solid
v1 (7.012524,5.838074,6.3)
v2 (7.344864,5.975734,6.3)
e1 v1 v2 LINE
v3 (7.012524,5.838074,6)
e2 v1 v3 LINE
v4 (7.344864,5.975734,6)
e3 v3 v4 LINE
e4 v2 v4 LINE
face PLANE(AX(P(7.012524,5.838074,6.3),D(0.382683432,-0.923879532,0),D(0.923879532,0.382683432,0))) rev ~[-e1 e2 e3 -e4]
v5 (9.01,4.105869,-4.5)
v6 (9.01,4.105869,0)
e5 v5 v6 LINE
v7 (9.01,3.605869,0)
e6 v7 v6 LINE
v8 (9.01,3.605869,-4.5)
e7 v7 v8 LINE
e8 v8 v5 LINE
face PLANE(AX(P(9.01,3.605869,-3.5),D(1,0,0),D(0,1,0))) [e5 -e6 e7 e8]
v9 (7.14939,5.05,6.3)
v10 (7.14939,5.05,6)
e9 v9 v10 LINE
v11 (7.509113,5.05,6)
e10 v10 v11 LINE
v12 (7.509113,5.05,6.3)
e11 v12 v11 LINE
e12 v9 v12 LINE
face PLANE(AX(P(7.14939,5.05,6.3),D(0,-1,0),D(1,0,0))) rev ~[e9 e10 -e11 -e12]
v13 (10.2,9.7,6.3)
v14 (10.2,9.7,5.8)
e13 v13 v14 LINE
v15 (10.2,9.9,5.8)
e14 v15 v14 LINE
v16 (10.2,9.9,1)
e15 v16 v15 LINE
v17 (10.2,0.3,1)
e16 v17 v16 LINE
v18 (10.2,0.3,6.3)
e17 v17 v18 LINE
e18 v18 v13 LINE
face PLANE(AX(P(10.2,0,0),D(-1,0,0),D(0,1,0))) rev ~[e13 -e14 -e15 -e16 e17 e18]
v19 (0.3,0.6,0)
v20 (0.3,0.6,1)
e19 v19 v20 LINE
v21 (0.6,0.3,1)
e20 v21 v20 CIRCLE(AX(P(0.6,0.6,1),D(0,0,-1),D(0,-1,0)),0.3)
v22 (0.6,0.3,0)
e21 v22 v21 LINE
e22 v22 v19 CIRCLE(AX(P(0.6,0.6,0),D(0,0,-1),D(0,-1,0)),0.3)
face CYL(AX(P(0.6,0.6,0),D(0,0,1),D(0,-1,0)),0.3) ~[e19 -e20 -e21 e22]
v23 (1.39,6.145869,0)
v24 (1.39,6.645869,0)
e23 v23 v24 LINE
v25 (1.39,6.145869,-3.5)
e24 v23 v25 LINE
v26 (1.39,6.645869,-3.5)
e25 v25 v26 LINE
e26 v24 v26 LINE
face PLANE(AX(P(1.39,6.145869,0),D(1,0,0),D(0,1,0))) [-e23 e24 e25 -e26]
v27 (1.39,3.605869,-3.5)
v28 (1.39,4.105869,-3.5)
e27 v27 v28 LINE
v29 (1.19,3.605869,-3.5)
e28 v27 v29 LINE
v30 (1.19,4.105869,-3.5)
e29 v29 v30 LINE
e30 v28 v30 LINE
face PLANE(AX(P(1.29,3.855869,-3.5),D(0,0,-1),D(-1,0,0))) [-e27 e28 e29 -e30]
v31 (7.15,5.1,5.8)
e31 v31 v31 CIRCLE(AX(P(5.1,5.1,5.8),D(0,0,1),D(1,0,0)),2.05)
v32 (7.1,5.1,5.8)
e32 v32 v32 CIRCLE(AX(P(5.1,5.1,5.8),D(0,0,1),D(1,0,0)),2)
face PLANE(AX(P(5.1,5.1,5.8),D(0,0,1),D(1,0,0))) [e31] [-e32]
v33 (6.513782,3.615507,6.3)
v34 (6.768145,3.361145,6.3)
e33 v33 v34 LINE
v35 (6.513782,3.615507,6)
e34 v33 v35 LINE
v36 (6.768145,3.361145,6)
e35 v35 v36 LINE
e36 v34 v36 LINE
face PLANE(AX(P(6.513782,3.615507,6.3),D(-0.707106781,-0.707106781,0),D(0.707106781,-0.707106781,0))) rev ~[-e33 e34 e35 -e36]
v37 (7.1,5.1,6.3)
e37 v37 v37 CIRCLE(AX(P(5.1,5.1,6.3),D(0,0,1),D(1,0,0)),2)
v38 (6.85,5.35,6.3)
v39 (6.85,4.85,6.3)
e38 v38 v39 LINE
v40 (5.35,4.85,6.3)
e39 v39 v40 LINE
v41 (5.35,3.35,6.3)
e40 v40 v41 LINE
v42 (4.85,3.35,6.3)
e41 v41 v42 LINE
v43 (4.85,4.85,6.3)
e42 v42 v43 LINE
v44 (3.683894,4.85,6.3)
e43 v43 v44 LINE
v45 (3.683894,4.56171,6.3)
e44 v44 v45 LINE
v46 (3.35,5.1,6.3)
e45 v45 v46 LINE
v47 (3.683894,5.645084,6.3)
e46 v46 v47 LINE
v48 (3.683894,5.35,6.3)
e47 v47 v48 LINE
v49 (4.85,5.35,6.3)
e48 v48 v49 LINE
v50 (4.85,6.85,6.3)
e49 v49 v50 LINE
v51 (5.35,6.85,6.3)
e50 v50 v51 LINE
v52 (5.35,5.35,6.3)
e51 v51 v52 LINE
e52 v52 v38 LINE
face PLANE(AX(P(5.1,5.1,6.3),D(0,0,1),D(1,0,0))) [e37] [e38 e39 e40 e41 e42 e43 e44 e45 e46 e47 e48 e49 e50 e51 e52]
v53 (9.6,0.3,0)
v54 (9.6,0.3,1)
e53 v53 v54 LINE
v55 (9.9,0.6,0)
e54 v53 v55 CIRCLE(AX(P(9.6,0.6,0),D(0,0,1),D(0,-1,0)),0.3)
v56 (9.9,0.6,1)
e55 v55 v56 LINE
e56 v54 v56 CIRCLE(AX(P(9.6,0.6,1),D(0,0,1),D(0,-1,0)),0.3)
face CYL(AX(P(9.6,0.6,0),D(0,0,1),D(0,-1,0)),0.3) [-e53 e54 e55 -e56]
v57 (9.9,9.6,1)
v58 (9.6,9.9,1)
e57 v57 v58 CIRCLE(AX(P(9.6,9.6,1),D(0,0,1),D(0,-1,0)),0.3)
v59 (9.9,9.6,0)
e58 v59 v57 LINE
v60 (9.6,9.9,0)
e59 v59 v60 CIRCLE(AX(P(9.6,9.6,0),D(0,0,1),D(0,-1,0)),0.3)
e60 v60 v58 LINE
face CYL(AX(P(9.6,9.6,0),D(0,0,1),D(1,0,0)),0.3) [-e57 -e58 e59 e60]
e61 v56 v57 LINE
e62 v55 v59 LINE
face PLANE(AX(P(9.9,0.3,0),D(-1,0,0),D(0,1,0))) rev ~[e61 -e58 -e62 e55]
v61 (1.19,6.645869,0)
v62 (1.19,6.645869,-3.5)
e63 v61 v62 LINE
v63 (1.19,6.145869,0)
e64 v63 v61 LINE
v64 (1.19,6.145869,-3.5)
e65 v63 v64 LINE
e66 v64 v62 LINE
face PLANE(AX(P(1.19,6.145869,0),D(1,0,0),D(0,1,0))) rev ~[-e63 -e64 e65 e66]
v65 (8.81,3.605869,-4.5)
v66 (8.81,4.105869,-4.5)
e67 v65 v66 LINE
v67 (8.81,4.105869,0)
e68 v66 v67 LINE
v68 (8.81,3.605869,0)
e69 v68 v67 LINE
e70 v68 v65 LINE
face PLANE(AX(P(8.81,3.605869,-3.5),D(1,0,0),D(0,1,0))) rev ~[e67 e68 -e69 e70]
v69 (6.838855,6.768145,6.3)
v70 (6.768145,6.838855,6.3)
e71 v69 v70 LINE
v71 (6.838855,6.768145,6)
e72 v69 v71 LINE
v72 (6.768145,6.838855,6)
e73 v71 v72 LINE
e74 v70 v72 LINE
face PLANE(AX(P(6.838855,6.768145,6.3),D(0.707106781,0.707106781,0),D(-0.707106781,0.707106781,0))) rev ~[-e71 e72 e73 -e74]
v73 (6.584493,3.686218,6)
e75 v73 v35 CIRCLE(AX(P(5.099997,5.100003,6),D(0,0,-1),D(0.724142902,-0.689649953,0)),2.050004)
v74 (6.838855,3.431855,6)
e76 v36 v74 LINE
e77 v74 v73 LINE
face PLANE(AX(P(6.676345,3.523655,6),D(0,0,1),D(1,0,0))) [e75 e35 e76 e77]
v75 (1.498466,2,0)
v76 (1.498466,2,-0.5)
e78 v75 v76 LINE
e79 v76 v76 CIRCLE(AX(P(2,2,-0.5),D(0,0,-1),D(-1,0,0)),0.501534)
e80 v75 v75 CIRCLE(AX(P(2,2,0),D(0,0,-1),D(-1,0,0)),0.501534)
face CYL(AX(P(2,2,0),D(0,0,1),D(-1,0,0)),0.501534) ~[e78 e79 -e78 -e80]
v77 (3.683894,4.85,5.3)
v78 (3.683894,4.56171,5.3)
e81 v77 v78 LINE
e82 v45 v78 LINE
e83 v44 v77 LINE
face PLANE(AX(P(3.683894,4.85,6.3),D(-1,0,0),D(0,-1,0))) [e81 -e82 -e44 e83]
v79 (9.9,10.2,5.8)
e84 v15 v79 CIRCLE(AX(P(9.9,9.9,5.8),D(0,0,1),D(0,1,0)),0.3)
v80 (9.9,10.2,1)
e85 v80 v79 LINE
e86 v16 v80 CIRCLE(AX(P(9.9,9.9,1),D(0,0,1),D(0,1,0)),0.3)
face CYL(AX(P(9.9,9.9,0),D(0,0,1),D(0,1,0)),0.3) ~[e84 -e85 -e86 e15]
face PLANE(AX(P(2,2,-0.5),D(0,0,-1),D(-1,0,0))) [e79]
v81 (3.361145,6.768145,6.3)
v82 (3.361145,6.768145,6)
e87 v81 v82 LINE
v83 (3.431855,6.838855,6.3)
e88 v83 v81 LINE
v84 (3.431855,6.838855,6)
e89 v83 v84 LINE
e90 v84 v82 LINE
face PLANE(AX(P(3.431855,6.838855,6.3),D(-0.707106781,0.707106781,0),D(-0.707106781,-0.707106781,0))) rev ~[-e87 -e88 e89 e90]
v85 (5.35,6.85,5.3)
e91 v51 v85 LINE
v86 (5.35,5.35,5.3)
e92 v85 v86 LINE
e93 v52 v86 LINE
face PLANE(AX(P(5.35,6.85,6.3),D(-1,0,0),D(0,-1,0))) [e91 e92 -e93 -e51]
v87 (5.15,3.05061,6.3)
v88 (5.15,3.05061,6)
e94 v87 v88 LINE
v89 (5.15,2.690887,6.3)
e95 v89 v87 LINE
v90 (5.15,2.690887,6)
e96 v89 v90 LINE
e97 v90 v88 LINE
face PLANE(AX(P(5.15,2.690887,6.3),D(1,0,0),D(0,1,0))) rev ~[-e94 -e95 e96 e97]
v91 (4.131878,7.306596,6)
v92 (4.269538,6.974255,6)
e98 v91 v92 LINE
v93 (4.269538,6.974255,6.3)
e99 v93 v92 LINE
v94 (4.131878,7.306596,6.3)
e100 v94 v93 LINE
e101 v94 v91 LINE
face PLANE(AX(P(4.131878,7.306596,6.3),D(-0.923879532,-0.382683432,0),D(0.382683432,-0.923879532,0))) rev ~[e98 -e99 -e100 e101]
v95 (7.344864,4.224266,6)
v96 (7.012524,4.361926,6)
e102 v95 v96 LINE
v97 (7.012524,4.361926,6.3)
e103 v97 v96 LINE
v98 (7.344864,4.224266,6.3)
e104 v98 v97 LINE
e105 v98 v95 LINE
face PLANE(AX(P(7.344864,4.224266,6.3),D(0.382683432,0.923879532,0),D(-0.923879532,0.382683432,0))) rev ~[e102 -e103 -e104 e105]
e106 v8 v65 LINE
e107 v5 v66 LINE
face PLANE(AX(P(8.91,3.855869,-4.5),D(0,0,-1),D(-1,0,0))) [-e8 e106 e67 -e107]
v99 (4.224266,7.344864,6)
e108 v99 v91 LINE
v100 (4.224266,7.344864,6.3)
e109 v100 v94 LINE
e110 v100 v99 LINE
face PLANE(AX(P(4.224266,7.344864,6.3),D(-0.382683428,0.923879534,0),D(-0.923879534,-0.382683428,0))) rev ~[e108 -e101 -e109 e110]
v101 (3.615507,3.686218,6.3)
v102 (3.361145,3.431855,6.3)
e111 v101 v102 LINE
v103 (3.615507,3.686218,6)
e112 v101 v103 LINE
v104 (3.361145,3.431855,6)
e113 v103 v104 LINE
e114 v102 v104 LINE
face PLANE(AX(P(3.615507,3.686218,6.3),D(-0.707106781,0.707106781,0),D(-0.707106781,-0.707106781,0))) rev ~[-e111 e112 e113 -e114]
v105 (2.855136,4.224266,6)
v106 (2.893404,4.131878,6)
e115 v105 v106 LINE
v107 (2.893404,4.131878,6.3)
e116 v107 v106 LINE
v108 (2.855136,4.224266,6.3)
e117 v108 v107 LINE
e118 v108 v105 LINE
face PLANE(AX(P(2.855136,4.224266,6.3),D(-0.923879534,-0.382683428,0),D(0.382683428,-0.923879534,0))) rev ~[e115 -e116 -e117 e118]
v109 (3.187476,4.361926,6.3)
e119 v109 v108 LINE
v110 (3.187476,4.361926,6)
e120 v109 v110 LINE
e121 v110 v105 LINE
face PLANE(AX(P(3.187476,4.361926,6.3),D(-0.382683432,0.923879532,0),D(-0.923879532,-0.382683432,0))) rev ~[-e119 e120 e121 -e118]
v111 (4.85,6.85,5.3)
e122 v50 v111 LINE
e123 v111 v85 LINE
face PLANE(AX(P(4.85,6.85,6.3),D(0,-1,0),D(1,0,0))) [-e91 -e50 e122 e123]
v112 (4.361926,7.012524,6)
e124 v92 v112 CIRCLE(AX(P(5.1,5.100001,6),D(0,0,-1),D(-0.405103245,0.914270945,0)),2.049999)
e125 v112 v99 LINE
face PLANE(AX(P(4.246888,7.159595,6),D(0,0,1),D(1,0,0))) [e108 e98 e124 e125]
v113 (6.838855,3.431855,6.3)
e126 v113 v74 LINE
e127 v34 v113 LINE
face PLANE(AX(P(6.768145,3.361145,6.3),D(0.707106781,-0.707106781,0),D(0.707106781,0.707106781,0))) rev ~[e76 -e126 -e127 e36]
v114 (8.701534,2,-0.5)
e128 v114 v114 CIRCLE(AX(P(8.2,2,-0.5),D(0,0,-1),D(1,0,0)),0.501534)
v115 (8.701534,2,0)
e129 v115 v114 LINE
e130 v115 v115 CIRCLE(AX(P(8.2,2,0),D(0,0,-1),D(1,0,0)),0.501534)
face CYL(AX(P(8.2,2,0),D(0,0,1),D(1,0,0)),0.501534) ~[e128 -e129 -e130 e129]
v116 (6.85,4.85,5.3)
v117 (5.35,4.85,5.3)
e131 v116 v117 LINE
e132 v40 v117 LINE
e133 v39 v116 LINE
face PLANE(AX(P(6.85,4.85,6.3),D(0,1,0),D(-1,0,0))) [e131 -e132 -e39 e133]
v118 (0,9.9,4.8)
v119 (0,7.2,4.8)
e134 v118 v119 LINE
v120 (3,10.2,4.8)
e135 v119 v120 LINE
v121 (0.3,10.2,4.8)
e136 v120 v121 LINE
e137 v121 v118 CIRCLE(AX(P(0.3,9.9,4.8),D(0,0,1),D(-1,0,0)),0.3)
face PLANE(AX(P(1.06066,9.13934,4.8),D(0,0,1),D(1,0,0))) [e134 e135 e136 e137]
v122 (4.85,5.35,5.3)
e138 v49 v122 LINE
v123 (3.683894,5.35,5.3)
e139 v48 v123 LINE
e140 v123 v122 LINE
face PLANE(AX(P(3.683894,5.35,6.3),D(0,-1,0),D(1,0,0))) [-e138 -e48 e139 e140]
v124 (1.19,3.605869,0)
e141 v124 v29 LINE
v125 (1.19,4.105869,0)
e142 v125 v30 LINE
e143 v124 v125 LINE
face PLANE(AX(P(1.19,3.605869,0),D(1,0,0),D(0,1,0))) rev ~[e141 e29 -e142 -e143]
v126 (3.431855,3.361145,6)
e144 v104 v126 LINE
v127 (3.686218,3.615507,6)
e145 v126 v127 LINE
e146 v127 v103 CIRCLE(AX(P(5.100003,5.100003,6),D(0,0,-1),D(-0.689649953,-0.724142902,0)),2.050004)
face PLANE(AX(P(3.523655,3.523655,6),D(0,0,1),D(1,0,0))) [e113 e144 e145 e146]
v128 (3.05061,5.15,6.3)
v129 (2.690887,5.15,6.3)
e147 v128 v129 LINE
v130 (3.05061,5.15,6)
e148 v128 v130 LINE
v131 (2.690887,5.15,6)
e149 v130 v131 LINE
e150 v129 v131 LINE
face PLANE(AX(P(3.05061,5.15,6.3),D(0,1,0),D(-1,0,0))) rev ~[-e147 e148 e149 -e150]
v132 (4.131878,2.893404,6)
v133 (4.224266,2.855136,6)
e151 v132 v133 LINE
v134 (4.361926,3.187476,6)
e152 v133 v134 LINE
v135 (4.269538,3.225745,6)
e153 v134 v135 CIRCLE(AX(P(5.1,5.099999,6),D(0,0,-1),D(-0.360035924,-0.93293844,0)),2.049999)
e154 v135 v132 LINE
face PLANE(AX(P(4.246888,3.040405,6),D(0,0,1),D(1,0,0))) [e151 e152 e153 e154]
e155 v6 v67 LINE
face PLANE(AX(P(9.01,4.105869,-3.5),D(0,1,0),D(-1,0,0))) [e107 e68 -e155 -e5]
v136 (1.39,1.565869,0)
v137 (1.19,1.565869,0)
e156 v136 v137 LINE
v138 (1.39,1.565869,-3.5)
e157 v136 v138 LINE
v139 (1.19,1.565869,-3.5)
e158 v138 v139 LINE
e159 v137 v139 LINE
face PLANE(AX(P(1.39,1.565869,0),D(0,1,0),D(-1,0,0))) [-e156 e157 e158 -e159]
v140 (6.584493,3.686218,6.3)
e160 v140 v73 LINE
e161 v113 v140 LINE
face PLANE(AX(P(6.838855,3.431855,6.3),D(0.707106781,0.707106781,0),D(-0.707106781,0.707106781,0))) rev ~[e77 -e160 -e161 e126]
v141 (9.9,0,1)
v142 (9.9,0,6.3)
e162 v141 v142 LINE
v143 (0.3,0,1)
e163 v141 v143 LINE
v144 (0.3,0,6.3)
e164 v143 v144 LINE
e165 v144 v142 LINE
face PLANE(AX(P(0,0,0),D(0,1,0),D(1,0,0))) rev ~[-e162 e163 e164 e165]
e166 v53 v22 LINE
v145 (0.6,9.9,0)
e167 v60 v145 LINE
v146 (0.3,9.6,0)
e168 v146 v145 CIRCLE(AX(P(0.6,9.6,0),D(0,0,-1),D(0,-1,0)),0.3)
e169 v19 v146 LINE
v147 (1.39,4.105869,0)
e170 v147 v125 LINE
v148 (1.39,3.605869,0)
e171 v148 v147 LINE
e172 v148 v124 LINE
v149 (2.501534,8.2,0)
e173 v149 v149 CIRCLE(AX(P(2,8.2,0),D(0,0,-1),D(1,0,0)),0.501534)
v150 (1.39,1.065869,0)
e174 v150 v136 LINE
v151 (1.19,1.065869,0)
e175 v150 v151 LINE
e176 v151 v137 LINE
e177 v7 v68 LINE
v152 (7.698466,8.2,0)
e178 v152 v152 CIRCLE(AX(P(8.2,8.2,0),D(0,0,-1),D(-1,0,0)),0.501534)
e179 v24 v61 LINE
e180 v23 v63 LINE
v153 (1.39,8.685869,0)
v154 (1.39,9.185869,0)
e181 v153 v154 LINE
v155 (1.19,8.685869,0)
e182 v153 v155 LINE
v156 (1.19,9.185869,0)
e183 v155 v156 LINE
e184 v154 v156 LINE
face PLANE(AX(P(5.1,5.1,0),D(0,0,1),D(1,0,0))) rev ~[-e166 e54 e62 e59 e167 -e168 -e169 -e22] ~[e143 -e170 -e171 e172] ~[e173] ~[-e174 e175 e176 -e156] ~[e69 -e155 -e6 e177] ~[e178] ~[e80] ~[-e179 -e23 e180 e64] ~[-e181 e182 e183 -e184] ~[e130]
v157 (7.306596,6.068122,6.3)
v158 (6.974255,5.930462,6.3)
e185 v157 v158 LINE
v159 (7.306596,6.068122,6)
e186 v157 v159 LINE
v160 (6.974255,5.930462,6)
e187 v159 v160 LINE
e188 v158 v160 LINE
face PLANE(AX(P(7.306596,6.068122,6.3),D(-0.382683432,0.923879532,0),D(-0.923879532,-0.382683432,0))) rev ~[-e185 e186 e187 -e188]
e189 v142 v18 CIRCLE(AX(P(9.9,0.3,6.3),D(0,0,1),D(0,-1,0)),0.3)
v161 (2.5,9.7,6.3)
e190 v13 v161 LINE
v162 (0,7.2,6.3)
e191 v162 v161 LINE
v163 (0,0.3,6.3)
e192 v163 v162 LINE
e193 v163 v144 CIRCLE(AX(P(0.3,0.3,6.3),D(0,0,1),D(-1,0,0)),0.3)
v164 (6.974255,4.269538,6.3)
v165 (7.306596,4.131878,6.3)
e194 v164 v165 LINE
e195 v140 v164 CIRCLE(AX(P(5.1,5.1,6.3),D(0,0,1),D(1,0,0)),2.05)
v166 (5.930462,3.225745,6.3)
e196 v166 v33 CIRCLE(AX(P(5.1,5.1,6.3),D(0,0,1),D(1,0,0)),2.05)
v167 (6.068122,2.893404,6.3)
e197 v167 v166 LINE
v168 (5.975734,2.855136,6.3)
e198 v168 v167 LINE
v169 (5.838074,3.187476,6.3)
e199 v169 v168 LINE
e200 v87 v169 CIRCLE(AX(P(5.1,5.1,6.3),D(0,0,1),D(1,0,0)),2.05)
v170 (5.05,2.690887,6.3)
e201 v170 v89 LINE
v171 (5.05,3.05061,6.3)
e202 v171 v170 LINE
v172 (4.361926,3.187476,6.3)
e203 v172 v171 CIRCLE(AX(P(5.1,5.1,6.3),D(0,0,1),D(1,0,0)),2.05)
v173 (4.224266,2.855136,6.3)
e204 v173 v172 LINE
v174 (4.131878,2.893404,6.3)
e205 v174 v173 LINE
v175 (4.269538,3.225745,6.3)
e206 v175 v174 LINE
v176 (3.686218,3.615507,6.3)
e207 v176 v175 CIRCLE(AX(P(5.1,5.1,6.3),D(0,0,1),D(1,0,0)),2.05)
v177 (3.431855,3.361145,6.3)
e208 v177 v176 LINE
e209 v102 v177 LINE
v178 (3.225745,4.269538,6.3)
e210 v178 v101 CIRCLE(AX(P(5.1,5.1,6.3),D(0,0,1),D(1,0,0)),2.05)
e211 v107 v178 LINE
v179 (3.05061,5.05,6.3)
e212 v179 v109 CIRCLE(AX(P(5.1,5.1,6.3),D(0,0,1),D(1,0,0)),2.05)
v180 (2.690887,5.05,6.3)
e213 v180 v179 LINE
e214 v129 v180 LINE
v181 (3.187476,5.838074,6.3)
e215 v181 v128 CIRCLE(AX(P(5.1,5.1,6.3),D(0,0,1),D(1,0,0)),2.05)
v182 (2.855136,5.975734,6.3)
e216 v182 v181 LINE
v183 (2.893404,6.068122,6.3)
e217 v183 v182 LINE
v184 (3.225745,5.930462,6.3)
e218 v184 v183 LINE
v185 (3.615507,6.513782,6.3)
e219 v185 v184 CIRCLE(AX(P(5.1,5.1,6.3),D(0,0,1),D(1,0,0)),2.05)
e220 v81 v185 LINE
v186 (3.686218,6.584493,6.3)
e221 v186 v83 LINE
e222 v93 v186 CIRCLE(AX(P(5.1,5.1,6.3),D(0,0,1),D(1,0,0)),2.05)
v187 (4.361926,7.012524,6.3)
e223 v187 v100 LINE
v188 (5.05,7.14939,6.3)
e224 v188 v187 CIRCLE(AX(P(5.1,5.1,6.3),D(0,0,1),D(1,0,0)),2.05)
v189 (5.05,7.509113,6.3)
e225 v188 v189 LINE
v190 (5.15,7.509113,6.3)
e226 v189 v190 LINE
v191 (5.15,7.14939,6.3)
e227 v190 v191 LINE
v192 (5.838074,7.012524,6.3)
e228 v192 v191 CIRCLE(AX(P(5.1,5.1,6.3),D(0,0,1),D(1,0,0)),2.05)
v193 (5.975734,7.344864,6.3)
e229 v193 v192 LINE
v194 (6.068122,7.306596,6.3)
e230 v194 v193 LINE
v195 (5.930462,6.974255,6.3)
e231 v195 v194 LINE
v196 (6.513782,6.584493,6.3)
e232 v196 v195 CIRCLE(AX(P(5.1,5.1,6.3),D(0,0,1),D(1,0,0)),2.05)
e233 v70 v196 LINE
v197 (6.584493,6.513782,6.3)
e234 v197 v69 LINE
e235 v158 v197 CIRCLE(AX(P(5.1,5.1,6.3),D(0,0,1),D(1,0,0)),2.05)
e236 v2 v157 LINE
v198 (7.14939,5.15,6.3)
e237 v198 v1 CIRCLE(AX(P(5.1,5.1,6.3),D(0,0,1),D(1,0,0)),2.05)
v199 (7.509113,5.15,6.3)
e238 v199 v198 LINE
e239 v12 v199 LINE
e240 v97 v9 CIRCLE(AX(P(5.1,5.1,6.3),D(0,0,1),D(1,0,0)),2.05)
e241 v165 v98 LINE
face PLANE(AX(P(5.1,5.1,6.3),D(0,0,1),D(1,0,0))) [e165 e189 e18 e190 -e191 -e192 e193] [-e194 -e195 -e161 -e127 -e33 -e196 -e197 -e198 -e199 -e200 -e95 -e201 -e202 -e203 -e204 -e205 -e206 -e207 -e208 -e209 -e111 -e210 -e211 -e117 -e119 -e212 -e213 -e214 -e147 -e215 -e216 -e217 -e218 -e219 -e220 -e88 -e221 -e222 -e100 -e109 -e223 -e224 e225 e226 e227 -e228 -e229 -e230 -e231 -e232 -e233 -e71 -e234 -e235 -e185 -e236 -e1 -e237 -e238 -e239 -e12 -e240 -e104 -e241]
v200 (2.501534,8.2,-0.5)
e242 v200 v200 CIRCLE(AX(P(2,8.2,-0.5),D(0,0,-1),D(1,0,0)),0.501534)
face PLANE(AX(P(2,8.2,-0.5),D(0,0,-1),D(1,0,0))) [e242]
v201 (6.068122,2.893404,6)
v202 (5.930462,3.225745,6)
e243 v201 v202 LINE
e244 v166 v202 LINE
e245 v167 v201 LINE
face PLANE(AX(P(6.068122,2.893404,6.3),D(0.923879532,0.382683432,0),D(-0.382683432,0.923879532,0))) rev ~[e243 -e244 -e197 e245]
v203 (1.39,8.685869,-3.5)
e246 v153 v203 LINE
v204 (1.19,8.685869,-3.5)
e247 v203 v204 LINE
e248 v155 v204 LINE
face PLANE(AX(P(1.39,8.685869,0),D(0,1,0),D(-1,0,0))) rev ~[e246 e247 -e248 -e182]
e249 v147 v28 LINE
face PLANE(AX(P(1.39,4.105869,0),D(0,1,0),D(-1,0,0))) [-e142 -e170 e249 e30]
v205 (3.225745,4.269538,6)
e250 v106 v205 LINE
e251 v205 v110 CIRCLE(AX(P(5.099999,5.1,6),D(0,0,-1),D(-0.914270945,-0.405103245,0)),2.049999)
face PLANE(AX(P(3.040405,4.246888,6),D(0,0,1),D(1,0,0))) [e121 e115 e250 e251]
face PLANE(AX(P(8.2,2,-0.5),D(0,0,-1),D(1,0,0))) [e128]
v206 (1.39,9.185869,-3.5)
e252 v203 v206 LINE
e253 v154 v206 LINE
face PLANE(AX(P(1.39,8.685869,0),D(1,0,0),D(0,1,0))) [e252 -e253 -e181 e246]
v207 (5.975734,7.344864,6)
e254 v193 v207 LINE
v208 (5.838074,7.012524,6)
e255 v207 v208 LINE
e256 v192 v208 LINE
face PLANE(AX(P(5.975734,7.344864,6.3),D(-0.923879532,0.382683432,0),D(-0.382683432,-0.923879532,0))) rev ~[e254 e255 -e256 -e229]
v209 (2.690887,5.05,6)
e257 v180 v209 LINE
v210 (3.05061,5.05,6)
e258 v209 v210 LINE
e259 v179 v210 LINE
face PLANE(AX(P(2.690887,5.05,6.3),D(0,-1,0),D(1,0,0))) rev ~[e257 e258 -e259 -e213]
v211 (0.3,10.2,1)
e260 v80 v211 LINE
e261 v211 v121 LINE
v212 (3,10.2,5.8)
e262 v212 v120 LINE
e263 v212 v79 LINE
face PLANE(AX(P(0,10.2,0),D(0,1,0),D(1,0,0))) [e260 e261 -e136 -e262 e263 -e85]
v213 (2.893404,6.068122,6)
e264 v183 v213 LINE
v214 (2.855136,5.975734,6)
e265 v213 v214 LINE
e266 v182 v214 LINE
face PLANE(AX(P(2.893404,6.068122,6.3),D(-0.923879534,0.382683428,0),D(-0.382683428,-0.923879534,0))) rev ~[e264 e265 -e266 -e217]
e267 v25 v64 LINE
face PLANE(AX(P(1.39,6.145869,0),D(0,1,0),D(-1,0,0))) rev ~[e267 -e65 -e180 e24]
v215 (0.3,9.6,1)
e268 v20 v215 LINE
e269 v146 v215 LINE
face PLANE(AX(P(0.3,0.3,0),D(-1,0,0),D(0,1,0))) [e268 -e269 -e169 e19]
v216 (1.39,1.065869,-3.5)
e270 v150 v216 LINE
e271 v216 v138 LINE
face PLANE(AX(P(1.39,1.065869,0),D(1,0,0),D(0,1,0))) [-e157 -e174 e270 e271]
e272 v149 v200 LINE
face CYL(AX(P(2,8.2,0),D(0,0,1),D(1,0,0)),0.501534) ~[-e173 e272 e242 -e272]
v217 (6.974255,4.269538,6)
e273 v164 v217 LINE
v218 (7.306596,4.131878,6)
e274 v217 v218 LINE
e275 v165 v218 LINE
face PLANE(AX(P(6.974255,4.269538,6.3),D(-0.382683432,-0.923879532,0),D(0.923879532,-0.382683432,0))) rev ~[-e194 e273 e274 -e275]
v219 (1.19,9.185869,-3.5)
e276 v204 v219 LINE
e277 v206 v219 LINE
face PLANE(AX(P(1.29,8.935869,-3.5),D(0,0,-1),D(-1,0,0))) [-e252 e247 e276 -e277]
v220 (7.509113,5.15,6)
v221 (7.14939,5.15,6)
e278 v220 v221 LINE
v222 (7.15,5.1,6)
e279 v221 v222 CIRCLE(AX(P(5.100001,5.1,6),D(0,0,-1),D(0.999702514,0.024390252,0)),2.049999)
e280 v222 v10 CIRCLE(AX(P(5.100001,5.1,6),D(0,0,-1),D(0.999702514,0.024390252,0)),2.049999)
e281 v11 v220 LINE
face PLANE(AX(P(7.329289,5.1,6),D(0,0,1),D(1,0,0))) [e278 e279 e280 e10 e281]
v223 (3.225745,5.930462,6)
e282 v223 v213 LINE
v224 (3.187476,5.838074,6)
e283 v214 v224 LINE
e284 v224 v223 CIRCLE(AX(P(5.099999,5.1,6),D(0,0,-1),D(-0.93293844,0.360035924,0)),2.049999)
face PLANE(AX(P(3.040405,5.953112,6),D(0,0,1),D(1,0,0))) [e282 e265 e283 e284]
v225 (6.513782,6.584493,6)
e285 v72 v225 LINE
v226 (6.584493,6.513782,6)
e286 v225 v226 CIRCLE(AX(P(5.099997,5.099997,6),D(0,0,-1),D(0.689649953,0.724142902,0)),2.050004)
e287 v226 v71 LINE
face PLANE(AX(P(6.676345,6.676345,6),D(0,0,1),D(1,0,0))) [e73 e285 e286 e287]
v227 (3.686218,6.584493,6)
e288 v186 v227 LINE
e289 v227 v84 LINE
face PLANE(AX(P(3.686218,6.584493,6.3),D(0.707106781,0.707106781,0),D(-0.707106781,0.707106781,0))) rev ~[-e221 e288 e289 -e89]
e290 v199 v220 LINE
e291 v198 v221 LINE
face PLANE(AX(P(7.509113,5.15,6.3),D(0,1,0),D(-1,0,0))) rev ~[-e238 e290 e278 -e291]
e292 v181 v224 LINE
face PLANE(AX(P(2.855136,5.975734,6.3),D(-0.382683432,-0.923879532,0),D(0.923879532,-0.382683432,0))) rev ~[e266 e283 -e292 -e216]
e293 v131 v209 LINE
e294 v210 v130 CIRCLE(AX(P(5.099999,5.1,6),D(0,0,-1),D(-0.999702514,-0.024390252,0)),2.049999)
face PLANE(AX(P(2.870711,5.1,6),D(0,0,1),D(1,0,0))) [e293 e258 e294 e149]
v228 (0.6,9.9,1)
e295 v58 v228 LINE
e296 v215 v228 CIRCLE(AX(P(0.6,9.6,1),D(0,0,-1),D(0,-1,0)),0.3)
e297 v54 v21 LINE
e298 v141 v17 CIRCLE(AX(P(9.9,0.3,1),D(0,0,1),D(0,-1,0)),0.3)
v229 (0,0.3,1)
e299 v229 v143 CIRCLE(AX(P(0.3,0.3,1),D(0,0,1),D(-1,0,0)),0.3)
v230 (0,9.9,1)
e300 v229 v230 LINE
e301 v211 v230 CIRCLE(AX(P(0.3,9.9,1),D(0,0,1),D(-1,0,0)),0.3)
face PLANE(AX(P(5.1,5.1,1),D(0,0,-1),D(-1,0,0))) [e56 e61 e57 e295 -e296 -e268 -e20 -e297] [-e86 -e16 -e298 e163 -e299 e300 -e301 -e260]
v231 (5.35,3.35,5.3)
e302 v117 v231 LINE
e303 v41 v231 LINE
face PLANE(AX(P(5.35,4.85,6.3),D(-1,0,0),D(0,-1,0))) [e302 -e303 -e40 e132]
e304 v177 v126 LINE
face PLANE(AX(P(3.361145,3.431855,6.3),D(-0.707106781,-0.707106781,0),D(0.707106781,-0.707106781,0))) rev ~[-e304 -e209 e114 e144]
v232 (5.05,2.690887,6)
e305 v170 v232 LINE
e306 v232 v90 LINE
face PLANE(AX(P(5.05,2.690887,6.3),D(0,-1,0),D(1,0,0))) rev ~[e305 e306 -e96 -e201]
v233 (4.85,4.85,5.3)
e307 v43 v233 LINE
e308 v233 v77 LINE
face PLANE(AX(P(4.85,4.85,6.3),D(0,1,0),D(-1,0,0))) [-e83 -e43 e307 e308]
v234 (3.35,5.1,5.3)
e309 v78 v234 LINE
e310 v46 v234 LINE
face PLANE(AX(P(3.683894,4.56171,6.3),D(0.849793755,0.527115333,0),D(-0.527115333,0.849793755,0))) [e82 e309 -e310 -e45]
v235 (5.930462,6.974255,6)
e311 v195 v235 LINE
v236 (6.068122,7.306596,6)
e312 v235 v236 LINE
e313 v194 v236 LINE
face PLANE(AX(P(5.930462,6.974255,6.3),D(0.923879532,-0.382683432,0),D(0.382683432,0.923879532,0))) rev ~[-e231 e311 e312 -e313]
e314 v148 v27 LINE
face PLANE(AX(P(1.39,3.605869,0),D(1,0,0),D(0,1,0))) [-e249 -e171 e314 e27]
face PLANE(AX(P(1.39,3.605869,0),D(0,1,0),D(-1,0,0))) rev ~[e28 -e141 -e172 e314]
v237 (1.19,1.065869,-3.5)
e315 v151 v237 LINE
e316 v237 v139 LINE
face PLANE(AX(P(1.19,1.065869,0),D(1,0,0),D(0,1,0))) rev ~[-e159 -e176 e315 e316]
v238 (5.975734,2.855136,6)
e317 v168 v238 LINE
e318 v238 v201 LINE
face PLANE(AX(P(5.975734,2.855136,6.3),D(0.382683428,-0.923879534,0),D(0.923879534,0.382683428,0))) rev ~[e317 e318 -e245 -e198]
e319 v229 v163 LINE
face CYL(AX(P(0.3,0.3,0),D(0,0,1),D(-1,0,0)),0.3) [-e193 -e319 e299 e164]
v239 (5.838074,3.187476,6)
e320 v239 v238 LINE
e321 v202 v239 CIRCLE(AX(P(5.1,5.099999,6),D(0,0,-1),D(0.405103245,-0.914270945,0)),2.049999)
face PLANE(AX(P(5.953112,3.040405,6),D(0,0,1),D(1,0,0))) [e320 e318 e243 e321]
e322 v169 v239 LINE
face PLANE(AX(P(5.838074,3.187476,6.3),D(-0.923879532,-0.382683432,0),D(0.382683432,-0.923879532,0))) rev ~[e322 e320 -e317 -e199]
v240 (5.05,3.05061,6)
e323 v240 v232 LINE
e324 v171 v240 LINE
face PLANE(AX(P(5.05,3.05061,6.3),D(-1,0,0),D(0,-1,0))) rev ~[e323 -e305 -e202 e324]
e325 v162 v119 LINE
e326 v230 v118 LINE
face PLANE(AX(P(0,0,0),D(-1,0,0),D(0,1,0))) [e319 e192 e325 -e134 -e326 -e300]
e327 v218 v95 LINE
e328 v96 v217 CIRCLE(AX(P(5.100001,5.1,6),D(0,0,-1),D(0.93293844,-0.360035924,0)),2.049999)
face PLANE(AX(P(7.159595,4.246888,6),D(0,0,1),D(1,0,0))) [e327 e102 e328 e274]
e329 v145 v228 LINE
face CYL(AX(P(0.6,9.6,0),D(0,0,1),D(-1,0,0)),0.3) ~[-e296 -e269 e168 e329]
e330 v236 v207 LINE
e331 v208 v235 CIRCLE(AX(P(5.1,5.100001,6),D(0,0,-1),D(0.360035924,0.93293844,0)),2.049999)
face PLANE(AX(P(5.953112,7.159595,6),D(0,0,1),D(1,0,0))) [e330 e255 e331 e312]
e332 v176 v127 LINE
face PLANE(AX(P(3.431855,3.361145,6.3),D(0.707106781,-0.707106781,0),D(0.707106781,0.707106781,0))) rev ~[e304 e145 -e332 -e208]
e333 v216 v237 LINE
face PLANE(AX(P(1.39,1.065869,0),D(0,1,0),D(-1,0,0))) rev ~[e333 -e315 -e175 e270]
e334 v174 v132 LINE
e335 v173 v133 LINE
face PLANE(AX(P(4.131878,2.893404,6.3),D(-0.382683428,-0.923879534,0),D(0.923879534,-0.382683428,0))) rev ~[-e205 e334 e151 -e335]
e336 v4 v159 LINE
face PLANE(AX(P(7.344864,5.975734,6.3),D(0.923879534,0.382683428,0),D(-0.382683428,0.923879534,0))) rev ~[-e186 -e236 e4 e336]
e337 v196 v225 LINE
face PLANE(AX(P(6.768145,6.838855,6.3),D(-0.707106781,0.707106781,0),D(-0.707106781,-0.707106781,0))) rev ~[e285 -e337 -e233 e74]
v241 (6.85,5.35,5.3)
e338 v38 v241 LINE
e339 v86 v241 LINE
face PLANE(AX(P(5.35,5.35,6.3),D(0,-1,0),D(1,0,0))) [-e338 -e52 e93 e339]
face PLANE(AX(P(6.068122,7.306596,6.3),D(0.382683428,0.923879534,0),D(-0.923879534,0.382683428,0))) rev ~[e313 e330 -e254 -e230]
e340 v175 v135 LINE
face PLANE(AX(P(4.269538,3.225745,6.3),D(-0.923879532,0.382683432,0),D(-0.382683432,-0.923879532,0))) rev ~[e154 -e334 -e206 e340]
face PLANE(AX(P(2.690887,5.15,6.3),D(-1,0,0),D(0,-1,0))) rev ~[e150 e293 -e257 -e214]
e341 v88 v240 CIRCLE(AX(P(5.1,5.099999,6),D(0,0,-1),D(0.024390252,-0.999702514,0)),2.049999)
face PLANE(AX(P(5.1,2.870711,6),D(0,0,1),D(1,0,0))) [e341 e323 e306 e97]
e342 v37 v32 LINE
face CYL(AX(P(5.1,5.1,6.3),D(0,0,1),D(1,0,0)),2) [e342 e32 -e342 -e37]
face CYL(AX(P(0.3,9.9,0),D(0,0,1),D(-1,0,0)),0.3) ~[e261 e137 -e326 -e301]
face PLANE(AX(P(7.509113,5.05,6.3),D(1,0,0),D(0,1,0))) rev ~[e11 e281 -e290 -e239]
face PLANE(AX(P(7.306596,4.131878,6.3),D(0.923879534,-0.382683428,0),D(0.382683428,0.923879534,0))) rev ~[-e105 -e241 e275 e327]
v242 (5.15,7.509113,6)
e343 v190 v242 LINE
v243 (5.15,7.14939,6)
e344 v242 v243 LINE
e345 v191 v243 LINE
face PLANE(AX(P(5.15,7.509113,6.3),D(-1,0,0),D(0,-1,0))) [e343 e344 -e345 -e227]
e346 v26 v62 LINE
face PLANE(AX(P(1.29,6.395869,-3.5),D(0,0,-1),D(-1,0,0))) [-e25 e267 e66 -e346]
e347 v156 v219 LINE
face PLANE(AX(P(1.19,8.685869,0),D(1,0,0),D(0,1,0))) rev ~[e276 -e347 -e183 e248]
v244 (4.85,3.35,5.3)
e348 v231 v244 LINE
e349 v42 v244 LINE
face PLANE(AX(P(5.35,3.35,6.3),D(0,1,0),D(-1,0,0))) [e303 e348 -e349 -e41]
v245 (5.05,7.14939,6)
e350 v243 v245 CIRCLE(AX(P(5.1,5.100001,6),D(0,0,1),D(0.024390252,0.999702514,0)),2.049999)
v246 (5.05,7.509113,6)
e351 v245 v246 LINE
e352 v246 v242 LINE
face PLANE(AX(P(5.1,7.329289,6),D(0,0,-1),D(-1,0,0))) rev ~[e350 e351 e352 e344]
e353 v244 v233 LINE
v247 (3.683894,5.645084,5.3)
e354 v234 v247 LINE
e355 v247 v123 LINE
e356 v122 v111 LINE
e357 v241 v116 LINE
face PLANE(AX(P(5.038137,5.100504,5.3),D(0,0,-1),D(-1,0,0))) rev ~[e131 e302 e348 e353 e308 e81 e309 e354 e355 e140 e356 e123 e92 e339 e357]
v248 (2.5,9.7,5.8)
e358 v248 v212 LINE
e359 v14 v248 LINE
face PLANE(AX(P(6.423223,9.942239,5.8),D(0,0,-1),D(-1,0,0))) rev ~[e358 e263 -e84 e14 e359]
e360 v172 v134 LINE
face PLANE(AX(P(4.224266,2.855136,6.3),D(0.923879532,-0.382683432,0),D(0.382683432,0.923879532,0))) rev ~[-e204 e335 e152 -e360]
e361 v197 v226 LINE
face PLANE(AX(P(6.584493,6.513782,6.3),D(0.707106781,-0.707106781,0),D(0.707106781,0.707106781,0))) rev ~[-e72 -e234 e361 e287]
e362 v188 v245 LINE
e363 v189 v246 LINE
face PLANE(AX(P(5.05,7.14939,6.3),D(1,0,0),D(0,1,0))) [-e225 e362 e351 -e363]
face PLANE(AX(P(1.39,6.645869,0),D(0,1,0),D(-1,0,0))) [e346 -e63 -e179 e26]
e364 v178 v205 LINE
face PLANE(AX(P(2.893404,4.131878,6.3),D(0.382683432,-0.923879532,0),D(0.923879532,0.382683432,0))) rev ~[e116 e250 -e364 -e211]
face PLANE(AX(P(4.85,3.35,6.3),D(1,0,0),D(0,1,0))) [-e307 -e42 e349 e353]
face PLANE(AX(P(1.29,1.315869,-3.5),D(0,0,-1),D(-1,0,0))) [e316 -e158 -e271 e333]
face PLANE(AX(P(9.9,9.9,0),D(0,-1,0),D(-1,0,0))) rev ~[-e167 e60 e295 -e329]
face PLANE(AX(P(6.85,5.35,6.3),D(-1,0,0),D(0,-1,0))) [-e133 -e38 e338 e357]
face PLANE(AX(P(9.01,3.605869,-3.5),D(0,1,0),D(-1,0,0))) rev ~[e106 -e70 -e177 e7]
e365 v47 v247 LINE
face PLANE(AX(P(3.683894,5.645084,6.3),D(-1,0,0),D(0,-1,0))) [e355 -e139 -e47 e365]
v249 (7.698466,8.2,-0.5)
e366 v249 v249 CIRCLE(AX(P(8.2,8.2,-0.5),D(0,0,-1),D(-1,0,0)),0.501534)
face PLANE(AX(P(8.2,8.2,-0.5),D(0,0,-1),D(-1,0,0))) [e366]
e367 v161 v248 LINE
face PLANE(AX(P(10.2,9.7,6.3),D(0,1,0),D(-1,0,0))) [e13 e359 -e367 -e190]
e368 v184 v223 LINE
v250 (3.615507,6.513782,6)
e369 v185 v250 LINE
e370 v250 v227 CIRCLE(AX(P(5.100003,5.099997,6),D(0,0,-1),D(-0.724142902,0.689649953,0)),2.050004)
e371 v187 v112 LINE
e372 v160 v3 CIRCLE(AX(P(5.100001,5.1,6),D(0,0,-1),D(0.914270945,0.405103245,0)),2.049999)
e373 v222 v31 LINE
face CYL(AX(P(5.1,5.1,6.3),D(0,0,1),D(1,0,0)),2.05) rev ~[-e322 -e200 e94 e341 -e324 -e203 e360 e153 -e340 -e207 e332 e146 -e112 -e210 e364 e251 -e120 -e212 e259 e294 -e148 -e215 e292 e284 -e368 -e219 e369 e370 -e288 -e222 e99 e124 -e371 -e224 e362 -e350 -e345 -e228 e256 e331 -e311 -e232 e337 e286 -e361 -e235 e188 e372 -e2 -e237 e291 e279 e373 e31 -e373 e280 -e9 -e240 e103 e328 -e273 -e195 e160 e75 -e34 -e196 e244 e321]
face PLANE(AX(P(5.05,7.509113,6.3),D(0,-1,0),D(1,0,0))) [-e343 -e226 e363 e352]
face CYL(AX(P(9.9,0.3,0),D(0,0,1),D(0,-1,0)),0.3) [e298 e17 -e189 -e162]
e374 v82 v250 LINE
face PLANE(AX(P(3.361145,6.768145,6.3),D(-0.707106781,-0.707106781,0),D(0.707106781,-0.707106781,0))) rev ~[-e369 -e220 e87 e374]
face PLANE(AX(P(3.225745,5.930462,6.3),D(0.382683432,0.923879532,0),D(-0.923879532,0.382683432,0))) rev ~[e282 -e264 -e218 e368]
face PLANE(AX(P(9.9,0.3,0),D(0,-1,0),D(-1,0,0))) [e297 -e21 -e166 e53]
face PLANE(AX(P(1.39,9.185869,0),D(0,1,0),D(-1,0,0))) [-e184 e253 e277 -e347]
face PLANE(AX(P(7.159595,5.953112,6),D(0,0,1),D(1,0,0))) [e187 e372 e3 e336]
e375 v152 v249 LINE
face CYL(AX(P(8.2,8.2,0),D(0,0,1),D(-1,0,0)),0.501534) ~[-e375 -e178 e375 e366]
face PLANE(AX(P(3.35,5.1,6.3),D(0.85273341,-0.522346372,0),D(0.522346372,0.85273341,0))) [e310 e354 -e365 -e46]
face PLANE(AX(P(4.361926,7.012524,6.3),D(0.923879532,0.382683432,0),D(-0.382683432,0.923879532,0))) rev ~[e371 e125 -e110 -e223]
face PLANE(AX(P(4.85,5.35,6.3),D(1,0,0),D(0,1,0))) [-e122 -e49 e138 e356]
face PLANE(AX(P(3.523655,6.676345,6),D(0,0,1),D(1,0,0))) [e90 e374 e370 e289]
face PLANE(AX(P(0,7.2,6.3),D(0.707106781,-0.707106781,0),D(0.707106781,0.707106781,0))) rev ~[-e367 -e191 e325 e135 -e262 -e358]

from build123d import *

# Parameters (mm, degrees)
SKETCH1_W               = 10.2
SKETCH1_H               = 10.2
BOSS_EXTRUDE2_DEPTH     = 6.5
SKETCH3_R               = 0.501534086
BOSS_EXTRUDE3_DEPTH     = 0.5
FILLET1_R               = 0.3
SKETCH4_W               = 10.2
SKETCH4_H               = 10.2
SKETCH4_W_2             = 9.6
SKETCH4_H_2             = 9.6
CUT_EXTRUDE_THIN1_DEPTH = 1
FILLET2_R               = 0.3
SKETCH5_W               = 0.2
SKETCH5_H               = 0.5
BOSS_EXTRUDE5_DEPTH     = 3.5
SKETCH6_W               = 0.2
SKETCH6_H               = 0.5
BOSS_EXTRUDE6_DEPTH     = 1
SKETCH7_W               = 10.2
SKETCH7_H               = 10.2
CUT_EXTRUDE3_DEPTH      = 0.2
CUT_EXTRUDE4_DEPTH      = 1.5
CUT_EXTRUDE5_DEPTH      = 0.5
SKETCH10_R              = 2.05
SKETCH10_R_2            = 2
CUT_EXTRUDE6_DEPTH      = 0.5
CUT_EXTRUDE7_DEPTH      = 1
CUT_EXTRUDE8_DEPTH      = 0.3


with BuildPart() as part:
    # Sketch1 → Boss-Extrude2 (new body)
    with BuildSketch(Plane.XY):
        with Locations((5.1, 5.1)):
            Rectangle(SKETCH1_W, SKETCH1_H)
    extrude(amount=BOSS_EXTRUDE2_DEPTH)

    # Sketch3 → Boss-Extrude3 (add)
    with BuildSketch(Plane(origin=(0, 0, 0), x_dir=(-1, 0, 0), z_dir=(0, 0, -1))):
        with Locations((-8.2, 8.2)):
            Circle(SKETCH3_R)
        with Locations(Location((-2, 8.2, 0), (0, 0, 180))):
            Circle(SKETCH3_R)
        with Locations(Location((-8.2, 2, 0), (0, 0, 180))):
            Circle(SKETCH3_R)
        with Locations((-2, 2)):
            Circle(SKETCH3_R)
    extrude(amount=BOSS_EXTRUDE3_DEPTH)

    # Fillet1
    fillet1_edges = [part.edges().sort_by_distance(p)[0] for p in [
        (0, 10.2, 3.25),
        (10.2, 10.2, 3.25),
        (10.2, 0, 3.25),
        (0, 0, 3.25),
    ]]
    fillet(fillet1_edges, radius=FILLET1_R)

    # Sketch4 → Cut-Extrude-Thin1 (cut)
    with BuildSketch(Plane(origin=(0, 0, 0), x_dir=(-1, 0, 0), z_dir=(0, 0, -1))):
        with Locations((-5.1, 5.1)):
            Rectangle(SKETCH4_W, SKETCH4_H)
        with Locations((-5.1, 5.1)):
            Rectangle(SKETCH4_W_2, SKETCH4_H_2, mode=Mode.SUBTRACT)
    extrude(amount=-CUT_EXTRUDE_THIN1_DEPTH, mode=Mode.SUBTRACT)

    # Fillet2
    fillet2_edges = [part.edges().sort_by_distance(p)[0] for p in [
        (9.9, 0.3, 0.5),
        (9.9, 9.9, 0.5),
        (0.3, 9.9, 0.5),
        (0.3, 0.3, 0.5),
    ]]
    fillet(fillet2_edges, radius=FILLET2_R)

    # Sketch5 → Boss-Extrude5 (add)
    with BuildSketch(Plane(origin=(0, 0, 0), x_dir=(-1, 0, 0), z_dir=(0, 0, -1))):
        with Locations((-1.29, 8.935868973)):
            Rectangle(SKETCH5_W, SKETCH5_H)
        with Locations((-1.29, 6.395868973)):
            Rectangle(SKETCH5_W, SKETCH5_H)
        with Locations((-1.29, 3.855868973)):
            Rectangle(SKETCH5_W, SKETCH5_H)
        with Locations((-1.29, 1.315868973)):
            Rectangle(SKETCH5_W, SKETCH5_H)
        with Locations((-8.91, 3.855868973)):
            Rectangle(SKETCH5_W, SKETCH5_H)
    extrude(amount=BOSS_EXTRUDE5_DEPTH)

    # Sketch6 → Boss-Extrude6 (add)
    with BuildSketch(Plane(origin=(0, 0, -3.5), x_dir=(-1, 0, 0), z_dir=(0, 0, -1))):
        with Locations((-8.91, 3.855868973)):
            Rectangle(SKETCH6_W, SKETCH6_H)
    extrude(amount=BOSS_EXTRUDE6_DEPTH)

    # Sketch7 → Cut-Extrude3 (cut)
    with BuildSketch(Plane.XY.offset(6.5)):
        with Locations((5.1, 5.1)):
            Rectangle(SKETCH7_W, SKETCH7_H)
    extrude(amount=-CUT_EXTRUDE3_DEPTH, mode=Mode.SUBTRACT)

    # Sketch8 → Cut-Extrude4 (cut)
    with BuildSketch(Plane.XY.offset(6.3)):
        Polygon((0, 10.2), (0, 7.2), (3, 10.2), align=None)
    extrude(amount=-CUT_EXTRUDE4_DEPTH, mode=Mode.SUBTRACT)

    # Sketch9 → Cut-Extrude5 (cut)
    with BuildSketch(Plane.XY.offset(6.3)):
        Polygon((3, 10.2), (10.2, 10.2), (10.2, 9.7), (2.5, 9.7), align=None)
    extrude(amount=-CUT_EXTRUDE5_DEPTH, mode=Mode.SUBTRACT)

    # Sketch10 → Cut-Extrude6 (cut)
    with BuildSketch(Plane.XY.offset(6.3)):
        with Locations((5.1, 5.1)):
            Circle(SKETCH10_R)
        with Locations((5.1, 5.1)):
            Circle(SKETCH10_R_2, mode=Mode.SUBTRACT)
    extrude(amount=-CUT_EXTRUDE6_DEPTH, mode=Mode.SUBTRACT)

    # Sketch11 → Cut-Extrude7 (cut)
    with BuildSketch(Plane.XY.offset(6.3)):
        Polygon((5.35, 6.85), (5.35, 5.35), (6.85, 5.35), (6.85, 4.85), (5.35, 4.85), (5.35, 3.35), (4.85, 3.35), (4.85, 4.85), (3.683893811, 4.85), (3.683893811, 4.56171007), (3.35, 5.1), (3.683893811, 5.645083537), (3.683893811, 5.35), (4.85, 5.35), (4.85, 6.85), align=None)
    extrude(amount=-CUT_EXTRUDE7_DEPTH, mode=Mode.SUBTRACT)

    # Sketch12 → Cut-Extrude8 (cut)
    with BuildSketch(Plane.XY.offset(6.3)):
        with BuildLine():
            Line((5.05, 7.509113019), (5.15, 7.509113019))
            Line((5.15, 7.509113019), (5.15, 7.149390153))
            ThreePointArc((5.15, 7.149390153), (5.1, 7.15), (5.05, 7.149390153))
            Line((5.05, 7.149390153), (5.05, 7.509113019))
        make_face()
        with BuildLine():
            Line((4.224266338, 7.344864381), (4.131878384, 7.306596038))
            Line((4.131878384, 7.306596038), (4.269538365, 6.974255445))
            ThreePointArc((4.269538365, 6.974255445), (4.315498964, 6.993953042), (4.361926319, 7.012523788))
            Line((4.361926319, 7.012523788), (4.224266338, 7.344864381))
        make_face()
        with BuildLine():
            Line((2.855135619, 5.975733662), (3.187476212, 5.838073681))
            ThreePointArc((3.187476212, 5.838073681), (3.206046958, 5.884501036), (3.225744555, 5.930461635))
            Line((3.225744555, 5.930461635), (2.893403962, 6.068121616))
            Line((2.893403962, 6.068121616), (2.855135619, 5.975733662))
        make_face()
        with BuildLine():
            Line((2.690886981, 5.15), (2.690886981, 5.05))
            Line((2.690886981, 5.05), (3.050609847, 5.05))
            ThreePointArc((3.050609847, 5.05), (3.05, 5.1), (3.050609847, 5.15))
            Line((3.050609847, 5.15), (2.690886981, 5.15))
        make_face()
        with BuildLine():
            Line((3.431855187, 6.838855491), (3.361144509, 6.768144813))
            Line((3.361144509, 6.768144813), (3.615506986, 6.513782336))
            ThreePointArc((3.615506986, 6.513782336), (3.650431099, 6.549568901), (3.686217664, 6.584493014))
            Line((3.686217664, 6.584493014), (3.431855187, 6.838855491))
        make_face()
        with BuildLine():
            Line((3.431855187, 3.361144509), (3.686217664, 3.615506986))
            ThreePointArc((3.686217664, 3.615506986), (3.650431099, 3.650431099), (3.615506986, 3.686217664))
            Line((3.615506986, 3.686217664), (3.361144509, 3.431855187))
            Line((3.361144509, 3.431855187), (3.431855187, 3.361144509))
        make_face()
        with BuildLine():
            Line((4.131878384, 2.893403962), (4.224266338, 2.855135619))
            Line((4.224266338, 2.855135619), (4.361926319, 3.187476212))
            ThreePointArc((4.361926319, 3.187476212), (4.315498964, 3.206046958), (4.269538365, 3.225744555))
            Line((4.269538365, 3.225744555), (4.131878384, 2.893403962))
        make_face()
        with BuildLine():
            Line((5.15, 2.690886981), (5.15, 3.050609847))
            ThreePointArc((5.15, 3.050609847), (5.1, 3.05), (5.05, 3.050609847))
            Line((5.05, 3.050609847), (5.05, 2.690886981))
            Line((5.05, 2.690886981), (5.15, 2.690886981))
        make_face()
        with BuildLine():
            Line((6.068121616, 2.893403962), (5.930461635, 3.225744555))
            ThreePointArc((5.930461635, 3.225744555), (5.884501036, 3.206046958), (5.838073681, 3.187476212))
            Line((5.838073681, 3.187476212), (5.975733662, 2.855135619))
            Line((5.975733662, 2.855135619), (6.068121616, 2.893403962))
        make_face()
        with BuildLine():
            Line((6.768144813, 3.361144509), (6.838855491, 3.431855187))
            Line((6.838855491, 3.431855187), (6.584493014, 3.686217664))
            ThreePointArc((6.584493014, 3.686217664), (6.549568901, 3.650431099), (6.513782336, 3.615506986))
            Line((6.513782336, 3.615506986), (6.768144813, 3.361144509))
        make_face()
        with BuildLine():
            Line((2.855135619, 4.224266338), (2.893403962, 4.131878384))
            Line((2.893403962, 4.131878384), (3.225744555, 4.269538365))
            ThreePointArc((3.225744555, 4.269538365), (3.206046958, 4.315498964), (3.187476212, 4.361926319))
            Line((3.187476212, 4.361926319), (2.855135619, 4.224266338))
        make_face()
        with BuildLine():
            Line((7.344864381, 4.224266338), (7.012523788, 4.361926319))
            ThreePointArc((7.012523788, 4.361926319), (6.993953042, 4.315498964), (6.974255445, 4.269538365))
            Line((6.974255445, 4.269538365), (7.306596038, 4.131878384))
            Line((7.306596038, 4.131878384), (7.344864381, 4.224266338))
        make_face()
        with BuildLine():
            Line((7.509113019, 5.15), (7.149390153, 5.15))
            ThreePointArc((7.149390153, 5.15), (7.15, 5.1), (7.149390153, 5.05))
            Line((7.149390153, 5.05), (7.509113019, 5.05))
            Line((7.509113019, 5.05), (7.509113019, 5.15))
        make_face()
        with BuildLine():
            Line((7.344864381, 5.975733662), (7.306596038, 6.068121616))
            Line((7.306596038, 6.068121616), (6.974255445, 5.930461635))
            ThreePointArc((6.974255445, 5.930461635), (6.993953042, 5.884501036), (7.012523788, 5.838073681))
            Line((7.012523788, 5.838073681), (7.344864381, 5.975733662))
        make_face()
        with BuildLine():
            Line((6.768144813, 6.838855491), (6.513782336, 6.584493014))
            ThreePointArc((6.513782336, 6.584493014), (6.549568901, 6.549568901), (6.584493014, 6.513782336))
            Line((6.584493014, 6.513782336), (6.838855491, 6.768144813))
            Line((6.838855491, 6.768144813), (6.768144813, 6.838855491))
        make_face()
        with BuildLine():
            Line((5.975733662, 7.344864381), (5.838073681, 7.012523788))
            ThreePointArc((5.838073681, 7.012523788), (5.884501036, 6.993953042), (5.930461635, 6.974255445))
            Line((5.930461635, 6.974255445), (6.068121616, 7.306596038))
            Line((6.068121616, 7.306596038), (5.975733662, 7.344864381))
        make_face()
    extrude(amount=-CUT_EXTRUDE8_DEPTH, mode=Mode.SUBTRACT)


solid = part.part
